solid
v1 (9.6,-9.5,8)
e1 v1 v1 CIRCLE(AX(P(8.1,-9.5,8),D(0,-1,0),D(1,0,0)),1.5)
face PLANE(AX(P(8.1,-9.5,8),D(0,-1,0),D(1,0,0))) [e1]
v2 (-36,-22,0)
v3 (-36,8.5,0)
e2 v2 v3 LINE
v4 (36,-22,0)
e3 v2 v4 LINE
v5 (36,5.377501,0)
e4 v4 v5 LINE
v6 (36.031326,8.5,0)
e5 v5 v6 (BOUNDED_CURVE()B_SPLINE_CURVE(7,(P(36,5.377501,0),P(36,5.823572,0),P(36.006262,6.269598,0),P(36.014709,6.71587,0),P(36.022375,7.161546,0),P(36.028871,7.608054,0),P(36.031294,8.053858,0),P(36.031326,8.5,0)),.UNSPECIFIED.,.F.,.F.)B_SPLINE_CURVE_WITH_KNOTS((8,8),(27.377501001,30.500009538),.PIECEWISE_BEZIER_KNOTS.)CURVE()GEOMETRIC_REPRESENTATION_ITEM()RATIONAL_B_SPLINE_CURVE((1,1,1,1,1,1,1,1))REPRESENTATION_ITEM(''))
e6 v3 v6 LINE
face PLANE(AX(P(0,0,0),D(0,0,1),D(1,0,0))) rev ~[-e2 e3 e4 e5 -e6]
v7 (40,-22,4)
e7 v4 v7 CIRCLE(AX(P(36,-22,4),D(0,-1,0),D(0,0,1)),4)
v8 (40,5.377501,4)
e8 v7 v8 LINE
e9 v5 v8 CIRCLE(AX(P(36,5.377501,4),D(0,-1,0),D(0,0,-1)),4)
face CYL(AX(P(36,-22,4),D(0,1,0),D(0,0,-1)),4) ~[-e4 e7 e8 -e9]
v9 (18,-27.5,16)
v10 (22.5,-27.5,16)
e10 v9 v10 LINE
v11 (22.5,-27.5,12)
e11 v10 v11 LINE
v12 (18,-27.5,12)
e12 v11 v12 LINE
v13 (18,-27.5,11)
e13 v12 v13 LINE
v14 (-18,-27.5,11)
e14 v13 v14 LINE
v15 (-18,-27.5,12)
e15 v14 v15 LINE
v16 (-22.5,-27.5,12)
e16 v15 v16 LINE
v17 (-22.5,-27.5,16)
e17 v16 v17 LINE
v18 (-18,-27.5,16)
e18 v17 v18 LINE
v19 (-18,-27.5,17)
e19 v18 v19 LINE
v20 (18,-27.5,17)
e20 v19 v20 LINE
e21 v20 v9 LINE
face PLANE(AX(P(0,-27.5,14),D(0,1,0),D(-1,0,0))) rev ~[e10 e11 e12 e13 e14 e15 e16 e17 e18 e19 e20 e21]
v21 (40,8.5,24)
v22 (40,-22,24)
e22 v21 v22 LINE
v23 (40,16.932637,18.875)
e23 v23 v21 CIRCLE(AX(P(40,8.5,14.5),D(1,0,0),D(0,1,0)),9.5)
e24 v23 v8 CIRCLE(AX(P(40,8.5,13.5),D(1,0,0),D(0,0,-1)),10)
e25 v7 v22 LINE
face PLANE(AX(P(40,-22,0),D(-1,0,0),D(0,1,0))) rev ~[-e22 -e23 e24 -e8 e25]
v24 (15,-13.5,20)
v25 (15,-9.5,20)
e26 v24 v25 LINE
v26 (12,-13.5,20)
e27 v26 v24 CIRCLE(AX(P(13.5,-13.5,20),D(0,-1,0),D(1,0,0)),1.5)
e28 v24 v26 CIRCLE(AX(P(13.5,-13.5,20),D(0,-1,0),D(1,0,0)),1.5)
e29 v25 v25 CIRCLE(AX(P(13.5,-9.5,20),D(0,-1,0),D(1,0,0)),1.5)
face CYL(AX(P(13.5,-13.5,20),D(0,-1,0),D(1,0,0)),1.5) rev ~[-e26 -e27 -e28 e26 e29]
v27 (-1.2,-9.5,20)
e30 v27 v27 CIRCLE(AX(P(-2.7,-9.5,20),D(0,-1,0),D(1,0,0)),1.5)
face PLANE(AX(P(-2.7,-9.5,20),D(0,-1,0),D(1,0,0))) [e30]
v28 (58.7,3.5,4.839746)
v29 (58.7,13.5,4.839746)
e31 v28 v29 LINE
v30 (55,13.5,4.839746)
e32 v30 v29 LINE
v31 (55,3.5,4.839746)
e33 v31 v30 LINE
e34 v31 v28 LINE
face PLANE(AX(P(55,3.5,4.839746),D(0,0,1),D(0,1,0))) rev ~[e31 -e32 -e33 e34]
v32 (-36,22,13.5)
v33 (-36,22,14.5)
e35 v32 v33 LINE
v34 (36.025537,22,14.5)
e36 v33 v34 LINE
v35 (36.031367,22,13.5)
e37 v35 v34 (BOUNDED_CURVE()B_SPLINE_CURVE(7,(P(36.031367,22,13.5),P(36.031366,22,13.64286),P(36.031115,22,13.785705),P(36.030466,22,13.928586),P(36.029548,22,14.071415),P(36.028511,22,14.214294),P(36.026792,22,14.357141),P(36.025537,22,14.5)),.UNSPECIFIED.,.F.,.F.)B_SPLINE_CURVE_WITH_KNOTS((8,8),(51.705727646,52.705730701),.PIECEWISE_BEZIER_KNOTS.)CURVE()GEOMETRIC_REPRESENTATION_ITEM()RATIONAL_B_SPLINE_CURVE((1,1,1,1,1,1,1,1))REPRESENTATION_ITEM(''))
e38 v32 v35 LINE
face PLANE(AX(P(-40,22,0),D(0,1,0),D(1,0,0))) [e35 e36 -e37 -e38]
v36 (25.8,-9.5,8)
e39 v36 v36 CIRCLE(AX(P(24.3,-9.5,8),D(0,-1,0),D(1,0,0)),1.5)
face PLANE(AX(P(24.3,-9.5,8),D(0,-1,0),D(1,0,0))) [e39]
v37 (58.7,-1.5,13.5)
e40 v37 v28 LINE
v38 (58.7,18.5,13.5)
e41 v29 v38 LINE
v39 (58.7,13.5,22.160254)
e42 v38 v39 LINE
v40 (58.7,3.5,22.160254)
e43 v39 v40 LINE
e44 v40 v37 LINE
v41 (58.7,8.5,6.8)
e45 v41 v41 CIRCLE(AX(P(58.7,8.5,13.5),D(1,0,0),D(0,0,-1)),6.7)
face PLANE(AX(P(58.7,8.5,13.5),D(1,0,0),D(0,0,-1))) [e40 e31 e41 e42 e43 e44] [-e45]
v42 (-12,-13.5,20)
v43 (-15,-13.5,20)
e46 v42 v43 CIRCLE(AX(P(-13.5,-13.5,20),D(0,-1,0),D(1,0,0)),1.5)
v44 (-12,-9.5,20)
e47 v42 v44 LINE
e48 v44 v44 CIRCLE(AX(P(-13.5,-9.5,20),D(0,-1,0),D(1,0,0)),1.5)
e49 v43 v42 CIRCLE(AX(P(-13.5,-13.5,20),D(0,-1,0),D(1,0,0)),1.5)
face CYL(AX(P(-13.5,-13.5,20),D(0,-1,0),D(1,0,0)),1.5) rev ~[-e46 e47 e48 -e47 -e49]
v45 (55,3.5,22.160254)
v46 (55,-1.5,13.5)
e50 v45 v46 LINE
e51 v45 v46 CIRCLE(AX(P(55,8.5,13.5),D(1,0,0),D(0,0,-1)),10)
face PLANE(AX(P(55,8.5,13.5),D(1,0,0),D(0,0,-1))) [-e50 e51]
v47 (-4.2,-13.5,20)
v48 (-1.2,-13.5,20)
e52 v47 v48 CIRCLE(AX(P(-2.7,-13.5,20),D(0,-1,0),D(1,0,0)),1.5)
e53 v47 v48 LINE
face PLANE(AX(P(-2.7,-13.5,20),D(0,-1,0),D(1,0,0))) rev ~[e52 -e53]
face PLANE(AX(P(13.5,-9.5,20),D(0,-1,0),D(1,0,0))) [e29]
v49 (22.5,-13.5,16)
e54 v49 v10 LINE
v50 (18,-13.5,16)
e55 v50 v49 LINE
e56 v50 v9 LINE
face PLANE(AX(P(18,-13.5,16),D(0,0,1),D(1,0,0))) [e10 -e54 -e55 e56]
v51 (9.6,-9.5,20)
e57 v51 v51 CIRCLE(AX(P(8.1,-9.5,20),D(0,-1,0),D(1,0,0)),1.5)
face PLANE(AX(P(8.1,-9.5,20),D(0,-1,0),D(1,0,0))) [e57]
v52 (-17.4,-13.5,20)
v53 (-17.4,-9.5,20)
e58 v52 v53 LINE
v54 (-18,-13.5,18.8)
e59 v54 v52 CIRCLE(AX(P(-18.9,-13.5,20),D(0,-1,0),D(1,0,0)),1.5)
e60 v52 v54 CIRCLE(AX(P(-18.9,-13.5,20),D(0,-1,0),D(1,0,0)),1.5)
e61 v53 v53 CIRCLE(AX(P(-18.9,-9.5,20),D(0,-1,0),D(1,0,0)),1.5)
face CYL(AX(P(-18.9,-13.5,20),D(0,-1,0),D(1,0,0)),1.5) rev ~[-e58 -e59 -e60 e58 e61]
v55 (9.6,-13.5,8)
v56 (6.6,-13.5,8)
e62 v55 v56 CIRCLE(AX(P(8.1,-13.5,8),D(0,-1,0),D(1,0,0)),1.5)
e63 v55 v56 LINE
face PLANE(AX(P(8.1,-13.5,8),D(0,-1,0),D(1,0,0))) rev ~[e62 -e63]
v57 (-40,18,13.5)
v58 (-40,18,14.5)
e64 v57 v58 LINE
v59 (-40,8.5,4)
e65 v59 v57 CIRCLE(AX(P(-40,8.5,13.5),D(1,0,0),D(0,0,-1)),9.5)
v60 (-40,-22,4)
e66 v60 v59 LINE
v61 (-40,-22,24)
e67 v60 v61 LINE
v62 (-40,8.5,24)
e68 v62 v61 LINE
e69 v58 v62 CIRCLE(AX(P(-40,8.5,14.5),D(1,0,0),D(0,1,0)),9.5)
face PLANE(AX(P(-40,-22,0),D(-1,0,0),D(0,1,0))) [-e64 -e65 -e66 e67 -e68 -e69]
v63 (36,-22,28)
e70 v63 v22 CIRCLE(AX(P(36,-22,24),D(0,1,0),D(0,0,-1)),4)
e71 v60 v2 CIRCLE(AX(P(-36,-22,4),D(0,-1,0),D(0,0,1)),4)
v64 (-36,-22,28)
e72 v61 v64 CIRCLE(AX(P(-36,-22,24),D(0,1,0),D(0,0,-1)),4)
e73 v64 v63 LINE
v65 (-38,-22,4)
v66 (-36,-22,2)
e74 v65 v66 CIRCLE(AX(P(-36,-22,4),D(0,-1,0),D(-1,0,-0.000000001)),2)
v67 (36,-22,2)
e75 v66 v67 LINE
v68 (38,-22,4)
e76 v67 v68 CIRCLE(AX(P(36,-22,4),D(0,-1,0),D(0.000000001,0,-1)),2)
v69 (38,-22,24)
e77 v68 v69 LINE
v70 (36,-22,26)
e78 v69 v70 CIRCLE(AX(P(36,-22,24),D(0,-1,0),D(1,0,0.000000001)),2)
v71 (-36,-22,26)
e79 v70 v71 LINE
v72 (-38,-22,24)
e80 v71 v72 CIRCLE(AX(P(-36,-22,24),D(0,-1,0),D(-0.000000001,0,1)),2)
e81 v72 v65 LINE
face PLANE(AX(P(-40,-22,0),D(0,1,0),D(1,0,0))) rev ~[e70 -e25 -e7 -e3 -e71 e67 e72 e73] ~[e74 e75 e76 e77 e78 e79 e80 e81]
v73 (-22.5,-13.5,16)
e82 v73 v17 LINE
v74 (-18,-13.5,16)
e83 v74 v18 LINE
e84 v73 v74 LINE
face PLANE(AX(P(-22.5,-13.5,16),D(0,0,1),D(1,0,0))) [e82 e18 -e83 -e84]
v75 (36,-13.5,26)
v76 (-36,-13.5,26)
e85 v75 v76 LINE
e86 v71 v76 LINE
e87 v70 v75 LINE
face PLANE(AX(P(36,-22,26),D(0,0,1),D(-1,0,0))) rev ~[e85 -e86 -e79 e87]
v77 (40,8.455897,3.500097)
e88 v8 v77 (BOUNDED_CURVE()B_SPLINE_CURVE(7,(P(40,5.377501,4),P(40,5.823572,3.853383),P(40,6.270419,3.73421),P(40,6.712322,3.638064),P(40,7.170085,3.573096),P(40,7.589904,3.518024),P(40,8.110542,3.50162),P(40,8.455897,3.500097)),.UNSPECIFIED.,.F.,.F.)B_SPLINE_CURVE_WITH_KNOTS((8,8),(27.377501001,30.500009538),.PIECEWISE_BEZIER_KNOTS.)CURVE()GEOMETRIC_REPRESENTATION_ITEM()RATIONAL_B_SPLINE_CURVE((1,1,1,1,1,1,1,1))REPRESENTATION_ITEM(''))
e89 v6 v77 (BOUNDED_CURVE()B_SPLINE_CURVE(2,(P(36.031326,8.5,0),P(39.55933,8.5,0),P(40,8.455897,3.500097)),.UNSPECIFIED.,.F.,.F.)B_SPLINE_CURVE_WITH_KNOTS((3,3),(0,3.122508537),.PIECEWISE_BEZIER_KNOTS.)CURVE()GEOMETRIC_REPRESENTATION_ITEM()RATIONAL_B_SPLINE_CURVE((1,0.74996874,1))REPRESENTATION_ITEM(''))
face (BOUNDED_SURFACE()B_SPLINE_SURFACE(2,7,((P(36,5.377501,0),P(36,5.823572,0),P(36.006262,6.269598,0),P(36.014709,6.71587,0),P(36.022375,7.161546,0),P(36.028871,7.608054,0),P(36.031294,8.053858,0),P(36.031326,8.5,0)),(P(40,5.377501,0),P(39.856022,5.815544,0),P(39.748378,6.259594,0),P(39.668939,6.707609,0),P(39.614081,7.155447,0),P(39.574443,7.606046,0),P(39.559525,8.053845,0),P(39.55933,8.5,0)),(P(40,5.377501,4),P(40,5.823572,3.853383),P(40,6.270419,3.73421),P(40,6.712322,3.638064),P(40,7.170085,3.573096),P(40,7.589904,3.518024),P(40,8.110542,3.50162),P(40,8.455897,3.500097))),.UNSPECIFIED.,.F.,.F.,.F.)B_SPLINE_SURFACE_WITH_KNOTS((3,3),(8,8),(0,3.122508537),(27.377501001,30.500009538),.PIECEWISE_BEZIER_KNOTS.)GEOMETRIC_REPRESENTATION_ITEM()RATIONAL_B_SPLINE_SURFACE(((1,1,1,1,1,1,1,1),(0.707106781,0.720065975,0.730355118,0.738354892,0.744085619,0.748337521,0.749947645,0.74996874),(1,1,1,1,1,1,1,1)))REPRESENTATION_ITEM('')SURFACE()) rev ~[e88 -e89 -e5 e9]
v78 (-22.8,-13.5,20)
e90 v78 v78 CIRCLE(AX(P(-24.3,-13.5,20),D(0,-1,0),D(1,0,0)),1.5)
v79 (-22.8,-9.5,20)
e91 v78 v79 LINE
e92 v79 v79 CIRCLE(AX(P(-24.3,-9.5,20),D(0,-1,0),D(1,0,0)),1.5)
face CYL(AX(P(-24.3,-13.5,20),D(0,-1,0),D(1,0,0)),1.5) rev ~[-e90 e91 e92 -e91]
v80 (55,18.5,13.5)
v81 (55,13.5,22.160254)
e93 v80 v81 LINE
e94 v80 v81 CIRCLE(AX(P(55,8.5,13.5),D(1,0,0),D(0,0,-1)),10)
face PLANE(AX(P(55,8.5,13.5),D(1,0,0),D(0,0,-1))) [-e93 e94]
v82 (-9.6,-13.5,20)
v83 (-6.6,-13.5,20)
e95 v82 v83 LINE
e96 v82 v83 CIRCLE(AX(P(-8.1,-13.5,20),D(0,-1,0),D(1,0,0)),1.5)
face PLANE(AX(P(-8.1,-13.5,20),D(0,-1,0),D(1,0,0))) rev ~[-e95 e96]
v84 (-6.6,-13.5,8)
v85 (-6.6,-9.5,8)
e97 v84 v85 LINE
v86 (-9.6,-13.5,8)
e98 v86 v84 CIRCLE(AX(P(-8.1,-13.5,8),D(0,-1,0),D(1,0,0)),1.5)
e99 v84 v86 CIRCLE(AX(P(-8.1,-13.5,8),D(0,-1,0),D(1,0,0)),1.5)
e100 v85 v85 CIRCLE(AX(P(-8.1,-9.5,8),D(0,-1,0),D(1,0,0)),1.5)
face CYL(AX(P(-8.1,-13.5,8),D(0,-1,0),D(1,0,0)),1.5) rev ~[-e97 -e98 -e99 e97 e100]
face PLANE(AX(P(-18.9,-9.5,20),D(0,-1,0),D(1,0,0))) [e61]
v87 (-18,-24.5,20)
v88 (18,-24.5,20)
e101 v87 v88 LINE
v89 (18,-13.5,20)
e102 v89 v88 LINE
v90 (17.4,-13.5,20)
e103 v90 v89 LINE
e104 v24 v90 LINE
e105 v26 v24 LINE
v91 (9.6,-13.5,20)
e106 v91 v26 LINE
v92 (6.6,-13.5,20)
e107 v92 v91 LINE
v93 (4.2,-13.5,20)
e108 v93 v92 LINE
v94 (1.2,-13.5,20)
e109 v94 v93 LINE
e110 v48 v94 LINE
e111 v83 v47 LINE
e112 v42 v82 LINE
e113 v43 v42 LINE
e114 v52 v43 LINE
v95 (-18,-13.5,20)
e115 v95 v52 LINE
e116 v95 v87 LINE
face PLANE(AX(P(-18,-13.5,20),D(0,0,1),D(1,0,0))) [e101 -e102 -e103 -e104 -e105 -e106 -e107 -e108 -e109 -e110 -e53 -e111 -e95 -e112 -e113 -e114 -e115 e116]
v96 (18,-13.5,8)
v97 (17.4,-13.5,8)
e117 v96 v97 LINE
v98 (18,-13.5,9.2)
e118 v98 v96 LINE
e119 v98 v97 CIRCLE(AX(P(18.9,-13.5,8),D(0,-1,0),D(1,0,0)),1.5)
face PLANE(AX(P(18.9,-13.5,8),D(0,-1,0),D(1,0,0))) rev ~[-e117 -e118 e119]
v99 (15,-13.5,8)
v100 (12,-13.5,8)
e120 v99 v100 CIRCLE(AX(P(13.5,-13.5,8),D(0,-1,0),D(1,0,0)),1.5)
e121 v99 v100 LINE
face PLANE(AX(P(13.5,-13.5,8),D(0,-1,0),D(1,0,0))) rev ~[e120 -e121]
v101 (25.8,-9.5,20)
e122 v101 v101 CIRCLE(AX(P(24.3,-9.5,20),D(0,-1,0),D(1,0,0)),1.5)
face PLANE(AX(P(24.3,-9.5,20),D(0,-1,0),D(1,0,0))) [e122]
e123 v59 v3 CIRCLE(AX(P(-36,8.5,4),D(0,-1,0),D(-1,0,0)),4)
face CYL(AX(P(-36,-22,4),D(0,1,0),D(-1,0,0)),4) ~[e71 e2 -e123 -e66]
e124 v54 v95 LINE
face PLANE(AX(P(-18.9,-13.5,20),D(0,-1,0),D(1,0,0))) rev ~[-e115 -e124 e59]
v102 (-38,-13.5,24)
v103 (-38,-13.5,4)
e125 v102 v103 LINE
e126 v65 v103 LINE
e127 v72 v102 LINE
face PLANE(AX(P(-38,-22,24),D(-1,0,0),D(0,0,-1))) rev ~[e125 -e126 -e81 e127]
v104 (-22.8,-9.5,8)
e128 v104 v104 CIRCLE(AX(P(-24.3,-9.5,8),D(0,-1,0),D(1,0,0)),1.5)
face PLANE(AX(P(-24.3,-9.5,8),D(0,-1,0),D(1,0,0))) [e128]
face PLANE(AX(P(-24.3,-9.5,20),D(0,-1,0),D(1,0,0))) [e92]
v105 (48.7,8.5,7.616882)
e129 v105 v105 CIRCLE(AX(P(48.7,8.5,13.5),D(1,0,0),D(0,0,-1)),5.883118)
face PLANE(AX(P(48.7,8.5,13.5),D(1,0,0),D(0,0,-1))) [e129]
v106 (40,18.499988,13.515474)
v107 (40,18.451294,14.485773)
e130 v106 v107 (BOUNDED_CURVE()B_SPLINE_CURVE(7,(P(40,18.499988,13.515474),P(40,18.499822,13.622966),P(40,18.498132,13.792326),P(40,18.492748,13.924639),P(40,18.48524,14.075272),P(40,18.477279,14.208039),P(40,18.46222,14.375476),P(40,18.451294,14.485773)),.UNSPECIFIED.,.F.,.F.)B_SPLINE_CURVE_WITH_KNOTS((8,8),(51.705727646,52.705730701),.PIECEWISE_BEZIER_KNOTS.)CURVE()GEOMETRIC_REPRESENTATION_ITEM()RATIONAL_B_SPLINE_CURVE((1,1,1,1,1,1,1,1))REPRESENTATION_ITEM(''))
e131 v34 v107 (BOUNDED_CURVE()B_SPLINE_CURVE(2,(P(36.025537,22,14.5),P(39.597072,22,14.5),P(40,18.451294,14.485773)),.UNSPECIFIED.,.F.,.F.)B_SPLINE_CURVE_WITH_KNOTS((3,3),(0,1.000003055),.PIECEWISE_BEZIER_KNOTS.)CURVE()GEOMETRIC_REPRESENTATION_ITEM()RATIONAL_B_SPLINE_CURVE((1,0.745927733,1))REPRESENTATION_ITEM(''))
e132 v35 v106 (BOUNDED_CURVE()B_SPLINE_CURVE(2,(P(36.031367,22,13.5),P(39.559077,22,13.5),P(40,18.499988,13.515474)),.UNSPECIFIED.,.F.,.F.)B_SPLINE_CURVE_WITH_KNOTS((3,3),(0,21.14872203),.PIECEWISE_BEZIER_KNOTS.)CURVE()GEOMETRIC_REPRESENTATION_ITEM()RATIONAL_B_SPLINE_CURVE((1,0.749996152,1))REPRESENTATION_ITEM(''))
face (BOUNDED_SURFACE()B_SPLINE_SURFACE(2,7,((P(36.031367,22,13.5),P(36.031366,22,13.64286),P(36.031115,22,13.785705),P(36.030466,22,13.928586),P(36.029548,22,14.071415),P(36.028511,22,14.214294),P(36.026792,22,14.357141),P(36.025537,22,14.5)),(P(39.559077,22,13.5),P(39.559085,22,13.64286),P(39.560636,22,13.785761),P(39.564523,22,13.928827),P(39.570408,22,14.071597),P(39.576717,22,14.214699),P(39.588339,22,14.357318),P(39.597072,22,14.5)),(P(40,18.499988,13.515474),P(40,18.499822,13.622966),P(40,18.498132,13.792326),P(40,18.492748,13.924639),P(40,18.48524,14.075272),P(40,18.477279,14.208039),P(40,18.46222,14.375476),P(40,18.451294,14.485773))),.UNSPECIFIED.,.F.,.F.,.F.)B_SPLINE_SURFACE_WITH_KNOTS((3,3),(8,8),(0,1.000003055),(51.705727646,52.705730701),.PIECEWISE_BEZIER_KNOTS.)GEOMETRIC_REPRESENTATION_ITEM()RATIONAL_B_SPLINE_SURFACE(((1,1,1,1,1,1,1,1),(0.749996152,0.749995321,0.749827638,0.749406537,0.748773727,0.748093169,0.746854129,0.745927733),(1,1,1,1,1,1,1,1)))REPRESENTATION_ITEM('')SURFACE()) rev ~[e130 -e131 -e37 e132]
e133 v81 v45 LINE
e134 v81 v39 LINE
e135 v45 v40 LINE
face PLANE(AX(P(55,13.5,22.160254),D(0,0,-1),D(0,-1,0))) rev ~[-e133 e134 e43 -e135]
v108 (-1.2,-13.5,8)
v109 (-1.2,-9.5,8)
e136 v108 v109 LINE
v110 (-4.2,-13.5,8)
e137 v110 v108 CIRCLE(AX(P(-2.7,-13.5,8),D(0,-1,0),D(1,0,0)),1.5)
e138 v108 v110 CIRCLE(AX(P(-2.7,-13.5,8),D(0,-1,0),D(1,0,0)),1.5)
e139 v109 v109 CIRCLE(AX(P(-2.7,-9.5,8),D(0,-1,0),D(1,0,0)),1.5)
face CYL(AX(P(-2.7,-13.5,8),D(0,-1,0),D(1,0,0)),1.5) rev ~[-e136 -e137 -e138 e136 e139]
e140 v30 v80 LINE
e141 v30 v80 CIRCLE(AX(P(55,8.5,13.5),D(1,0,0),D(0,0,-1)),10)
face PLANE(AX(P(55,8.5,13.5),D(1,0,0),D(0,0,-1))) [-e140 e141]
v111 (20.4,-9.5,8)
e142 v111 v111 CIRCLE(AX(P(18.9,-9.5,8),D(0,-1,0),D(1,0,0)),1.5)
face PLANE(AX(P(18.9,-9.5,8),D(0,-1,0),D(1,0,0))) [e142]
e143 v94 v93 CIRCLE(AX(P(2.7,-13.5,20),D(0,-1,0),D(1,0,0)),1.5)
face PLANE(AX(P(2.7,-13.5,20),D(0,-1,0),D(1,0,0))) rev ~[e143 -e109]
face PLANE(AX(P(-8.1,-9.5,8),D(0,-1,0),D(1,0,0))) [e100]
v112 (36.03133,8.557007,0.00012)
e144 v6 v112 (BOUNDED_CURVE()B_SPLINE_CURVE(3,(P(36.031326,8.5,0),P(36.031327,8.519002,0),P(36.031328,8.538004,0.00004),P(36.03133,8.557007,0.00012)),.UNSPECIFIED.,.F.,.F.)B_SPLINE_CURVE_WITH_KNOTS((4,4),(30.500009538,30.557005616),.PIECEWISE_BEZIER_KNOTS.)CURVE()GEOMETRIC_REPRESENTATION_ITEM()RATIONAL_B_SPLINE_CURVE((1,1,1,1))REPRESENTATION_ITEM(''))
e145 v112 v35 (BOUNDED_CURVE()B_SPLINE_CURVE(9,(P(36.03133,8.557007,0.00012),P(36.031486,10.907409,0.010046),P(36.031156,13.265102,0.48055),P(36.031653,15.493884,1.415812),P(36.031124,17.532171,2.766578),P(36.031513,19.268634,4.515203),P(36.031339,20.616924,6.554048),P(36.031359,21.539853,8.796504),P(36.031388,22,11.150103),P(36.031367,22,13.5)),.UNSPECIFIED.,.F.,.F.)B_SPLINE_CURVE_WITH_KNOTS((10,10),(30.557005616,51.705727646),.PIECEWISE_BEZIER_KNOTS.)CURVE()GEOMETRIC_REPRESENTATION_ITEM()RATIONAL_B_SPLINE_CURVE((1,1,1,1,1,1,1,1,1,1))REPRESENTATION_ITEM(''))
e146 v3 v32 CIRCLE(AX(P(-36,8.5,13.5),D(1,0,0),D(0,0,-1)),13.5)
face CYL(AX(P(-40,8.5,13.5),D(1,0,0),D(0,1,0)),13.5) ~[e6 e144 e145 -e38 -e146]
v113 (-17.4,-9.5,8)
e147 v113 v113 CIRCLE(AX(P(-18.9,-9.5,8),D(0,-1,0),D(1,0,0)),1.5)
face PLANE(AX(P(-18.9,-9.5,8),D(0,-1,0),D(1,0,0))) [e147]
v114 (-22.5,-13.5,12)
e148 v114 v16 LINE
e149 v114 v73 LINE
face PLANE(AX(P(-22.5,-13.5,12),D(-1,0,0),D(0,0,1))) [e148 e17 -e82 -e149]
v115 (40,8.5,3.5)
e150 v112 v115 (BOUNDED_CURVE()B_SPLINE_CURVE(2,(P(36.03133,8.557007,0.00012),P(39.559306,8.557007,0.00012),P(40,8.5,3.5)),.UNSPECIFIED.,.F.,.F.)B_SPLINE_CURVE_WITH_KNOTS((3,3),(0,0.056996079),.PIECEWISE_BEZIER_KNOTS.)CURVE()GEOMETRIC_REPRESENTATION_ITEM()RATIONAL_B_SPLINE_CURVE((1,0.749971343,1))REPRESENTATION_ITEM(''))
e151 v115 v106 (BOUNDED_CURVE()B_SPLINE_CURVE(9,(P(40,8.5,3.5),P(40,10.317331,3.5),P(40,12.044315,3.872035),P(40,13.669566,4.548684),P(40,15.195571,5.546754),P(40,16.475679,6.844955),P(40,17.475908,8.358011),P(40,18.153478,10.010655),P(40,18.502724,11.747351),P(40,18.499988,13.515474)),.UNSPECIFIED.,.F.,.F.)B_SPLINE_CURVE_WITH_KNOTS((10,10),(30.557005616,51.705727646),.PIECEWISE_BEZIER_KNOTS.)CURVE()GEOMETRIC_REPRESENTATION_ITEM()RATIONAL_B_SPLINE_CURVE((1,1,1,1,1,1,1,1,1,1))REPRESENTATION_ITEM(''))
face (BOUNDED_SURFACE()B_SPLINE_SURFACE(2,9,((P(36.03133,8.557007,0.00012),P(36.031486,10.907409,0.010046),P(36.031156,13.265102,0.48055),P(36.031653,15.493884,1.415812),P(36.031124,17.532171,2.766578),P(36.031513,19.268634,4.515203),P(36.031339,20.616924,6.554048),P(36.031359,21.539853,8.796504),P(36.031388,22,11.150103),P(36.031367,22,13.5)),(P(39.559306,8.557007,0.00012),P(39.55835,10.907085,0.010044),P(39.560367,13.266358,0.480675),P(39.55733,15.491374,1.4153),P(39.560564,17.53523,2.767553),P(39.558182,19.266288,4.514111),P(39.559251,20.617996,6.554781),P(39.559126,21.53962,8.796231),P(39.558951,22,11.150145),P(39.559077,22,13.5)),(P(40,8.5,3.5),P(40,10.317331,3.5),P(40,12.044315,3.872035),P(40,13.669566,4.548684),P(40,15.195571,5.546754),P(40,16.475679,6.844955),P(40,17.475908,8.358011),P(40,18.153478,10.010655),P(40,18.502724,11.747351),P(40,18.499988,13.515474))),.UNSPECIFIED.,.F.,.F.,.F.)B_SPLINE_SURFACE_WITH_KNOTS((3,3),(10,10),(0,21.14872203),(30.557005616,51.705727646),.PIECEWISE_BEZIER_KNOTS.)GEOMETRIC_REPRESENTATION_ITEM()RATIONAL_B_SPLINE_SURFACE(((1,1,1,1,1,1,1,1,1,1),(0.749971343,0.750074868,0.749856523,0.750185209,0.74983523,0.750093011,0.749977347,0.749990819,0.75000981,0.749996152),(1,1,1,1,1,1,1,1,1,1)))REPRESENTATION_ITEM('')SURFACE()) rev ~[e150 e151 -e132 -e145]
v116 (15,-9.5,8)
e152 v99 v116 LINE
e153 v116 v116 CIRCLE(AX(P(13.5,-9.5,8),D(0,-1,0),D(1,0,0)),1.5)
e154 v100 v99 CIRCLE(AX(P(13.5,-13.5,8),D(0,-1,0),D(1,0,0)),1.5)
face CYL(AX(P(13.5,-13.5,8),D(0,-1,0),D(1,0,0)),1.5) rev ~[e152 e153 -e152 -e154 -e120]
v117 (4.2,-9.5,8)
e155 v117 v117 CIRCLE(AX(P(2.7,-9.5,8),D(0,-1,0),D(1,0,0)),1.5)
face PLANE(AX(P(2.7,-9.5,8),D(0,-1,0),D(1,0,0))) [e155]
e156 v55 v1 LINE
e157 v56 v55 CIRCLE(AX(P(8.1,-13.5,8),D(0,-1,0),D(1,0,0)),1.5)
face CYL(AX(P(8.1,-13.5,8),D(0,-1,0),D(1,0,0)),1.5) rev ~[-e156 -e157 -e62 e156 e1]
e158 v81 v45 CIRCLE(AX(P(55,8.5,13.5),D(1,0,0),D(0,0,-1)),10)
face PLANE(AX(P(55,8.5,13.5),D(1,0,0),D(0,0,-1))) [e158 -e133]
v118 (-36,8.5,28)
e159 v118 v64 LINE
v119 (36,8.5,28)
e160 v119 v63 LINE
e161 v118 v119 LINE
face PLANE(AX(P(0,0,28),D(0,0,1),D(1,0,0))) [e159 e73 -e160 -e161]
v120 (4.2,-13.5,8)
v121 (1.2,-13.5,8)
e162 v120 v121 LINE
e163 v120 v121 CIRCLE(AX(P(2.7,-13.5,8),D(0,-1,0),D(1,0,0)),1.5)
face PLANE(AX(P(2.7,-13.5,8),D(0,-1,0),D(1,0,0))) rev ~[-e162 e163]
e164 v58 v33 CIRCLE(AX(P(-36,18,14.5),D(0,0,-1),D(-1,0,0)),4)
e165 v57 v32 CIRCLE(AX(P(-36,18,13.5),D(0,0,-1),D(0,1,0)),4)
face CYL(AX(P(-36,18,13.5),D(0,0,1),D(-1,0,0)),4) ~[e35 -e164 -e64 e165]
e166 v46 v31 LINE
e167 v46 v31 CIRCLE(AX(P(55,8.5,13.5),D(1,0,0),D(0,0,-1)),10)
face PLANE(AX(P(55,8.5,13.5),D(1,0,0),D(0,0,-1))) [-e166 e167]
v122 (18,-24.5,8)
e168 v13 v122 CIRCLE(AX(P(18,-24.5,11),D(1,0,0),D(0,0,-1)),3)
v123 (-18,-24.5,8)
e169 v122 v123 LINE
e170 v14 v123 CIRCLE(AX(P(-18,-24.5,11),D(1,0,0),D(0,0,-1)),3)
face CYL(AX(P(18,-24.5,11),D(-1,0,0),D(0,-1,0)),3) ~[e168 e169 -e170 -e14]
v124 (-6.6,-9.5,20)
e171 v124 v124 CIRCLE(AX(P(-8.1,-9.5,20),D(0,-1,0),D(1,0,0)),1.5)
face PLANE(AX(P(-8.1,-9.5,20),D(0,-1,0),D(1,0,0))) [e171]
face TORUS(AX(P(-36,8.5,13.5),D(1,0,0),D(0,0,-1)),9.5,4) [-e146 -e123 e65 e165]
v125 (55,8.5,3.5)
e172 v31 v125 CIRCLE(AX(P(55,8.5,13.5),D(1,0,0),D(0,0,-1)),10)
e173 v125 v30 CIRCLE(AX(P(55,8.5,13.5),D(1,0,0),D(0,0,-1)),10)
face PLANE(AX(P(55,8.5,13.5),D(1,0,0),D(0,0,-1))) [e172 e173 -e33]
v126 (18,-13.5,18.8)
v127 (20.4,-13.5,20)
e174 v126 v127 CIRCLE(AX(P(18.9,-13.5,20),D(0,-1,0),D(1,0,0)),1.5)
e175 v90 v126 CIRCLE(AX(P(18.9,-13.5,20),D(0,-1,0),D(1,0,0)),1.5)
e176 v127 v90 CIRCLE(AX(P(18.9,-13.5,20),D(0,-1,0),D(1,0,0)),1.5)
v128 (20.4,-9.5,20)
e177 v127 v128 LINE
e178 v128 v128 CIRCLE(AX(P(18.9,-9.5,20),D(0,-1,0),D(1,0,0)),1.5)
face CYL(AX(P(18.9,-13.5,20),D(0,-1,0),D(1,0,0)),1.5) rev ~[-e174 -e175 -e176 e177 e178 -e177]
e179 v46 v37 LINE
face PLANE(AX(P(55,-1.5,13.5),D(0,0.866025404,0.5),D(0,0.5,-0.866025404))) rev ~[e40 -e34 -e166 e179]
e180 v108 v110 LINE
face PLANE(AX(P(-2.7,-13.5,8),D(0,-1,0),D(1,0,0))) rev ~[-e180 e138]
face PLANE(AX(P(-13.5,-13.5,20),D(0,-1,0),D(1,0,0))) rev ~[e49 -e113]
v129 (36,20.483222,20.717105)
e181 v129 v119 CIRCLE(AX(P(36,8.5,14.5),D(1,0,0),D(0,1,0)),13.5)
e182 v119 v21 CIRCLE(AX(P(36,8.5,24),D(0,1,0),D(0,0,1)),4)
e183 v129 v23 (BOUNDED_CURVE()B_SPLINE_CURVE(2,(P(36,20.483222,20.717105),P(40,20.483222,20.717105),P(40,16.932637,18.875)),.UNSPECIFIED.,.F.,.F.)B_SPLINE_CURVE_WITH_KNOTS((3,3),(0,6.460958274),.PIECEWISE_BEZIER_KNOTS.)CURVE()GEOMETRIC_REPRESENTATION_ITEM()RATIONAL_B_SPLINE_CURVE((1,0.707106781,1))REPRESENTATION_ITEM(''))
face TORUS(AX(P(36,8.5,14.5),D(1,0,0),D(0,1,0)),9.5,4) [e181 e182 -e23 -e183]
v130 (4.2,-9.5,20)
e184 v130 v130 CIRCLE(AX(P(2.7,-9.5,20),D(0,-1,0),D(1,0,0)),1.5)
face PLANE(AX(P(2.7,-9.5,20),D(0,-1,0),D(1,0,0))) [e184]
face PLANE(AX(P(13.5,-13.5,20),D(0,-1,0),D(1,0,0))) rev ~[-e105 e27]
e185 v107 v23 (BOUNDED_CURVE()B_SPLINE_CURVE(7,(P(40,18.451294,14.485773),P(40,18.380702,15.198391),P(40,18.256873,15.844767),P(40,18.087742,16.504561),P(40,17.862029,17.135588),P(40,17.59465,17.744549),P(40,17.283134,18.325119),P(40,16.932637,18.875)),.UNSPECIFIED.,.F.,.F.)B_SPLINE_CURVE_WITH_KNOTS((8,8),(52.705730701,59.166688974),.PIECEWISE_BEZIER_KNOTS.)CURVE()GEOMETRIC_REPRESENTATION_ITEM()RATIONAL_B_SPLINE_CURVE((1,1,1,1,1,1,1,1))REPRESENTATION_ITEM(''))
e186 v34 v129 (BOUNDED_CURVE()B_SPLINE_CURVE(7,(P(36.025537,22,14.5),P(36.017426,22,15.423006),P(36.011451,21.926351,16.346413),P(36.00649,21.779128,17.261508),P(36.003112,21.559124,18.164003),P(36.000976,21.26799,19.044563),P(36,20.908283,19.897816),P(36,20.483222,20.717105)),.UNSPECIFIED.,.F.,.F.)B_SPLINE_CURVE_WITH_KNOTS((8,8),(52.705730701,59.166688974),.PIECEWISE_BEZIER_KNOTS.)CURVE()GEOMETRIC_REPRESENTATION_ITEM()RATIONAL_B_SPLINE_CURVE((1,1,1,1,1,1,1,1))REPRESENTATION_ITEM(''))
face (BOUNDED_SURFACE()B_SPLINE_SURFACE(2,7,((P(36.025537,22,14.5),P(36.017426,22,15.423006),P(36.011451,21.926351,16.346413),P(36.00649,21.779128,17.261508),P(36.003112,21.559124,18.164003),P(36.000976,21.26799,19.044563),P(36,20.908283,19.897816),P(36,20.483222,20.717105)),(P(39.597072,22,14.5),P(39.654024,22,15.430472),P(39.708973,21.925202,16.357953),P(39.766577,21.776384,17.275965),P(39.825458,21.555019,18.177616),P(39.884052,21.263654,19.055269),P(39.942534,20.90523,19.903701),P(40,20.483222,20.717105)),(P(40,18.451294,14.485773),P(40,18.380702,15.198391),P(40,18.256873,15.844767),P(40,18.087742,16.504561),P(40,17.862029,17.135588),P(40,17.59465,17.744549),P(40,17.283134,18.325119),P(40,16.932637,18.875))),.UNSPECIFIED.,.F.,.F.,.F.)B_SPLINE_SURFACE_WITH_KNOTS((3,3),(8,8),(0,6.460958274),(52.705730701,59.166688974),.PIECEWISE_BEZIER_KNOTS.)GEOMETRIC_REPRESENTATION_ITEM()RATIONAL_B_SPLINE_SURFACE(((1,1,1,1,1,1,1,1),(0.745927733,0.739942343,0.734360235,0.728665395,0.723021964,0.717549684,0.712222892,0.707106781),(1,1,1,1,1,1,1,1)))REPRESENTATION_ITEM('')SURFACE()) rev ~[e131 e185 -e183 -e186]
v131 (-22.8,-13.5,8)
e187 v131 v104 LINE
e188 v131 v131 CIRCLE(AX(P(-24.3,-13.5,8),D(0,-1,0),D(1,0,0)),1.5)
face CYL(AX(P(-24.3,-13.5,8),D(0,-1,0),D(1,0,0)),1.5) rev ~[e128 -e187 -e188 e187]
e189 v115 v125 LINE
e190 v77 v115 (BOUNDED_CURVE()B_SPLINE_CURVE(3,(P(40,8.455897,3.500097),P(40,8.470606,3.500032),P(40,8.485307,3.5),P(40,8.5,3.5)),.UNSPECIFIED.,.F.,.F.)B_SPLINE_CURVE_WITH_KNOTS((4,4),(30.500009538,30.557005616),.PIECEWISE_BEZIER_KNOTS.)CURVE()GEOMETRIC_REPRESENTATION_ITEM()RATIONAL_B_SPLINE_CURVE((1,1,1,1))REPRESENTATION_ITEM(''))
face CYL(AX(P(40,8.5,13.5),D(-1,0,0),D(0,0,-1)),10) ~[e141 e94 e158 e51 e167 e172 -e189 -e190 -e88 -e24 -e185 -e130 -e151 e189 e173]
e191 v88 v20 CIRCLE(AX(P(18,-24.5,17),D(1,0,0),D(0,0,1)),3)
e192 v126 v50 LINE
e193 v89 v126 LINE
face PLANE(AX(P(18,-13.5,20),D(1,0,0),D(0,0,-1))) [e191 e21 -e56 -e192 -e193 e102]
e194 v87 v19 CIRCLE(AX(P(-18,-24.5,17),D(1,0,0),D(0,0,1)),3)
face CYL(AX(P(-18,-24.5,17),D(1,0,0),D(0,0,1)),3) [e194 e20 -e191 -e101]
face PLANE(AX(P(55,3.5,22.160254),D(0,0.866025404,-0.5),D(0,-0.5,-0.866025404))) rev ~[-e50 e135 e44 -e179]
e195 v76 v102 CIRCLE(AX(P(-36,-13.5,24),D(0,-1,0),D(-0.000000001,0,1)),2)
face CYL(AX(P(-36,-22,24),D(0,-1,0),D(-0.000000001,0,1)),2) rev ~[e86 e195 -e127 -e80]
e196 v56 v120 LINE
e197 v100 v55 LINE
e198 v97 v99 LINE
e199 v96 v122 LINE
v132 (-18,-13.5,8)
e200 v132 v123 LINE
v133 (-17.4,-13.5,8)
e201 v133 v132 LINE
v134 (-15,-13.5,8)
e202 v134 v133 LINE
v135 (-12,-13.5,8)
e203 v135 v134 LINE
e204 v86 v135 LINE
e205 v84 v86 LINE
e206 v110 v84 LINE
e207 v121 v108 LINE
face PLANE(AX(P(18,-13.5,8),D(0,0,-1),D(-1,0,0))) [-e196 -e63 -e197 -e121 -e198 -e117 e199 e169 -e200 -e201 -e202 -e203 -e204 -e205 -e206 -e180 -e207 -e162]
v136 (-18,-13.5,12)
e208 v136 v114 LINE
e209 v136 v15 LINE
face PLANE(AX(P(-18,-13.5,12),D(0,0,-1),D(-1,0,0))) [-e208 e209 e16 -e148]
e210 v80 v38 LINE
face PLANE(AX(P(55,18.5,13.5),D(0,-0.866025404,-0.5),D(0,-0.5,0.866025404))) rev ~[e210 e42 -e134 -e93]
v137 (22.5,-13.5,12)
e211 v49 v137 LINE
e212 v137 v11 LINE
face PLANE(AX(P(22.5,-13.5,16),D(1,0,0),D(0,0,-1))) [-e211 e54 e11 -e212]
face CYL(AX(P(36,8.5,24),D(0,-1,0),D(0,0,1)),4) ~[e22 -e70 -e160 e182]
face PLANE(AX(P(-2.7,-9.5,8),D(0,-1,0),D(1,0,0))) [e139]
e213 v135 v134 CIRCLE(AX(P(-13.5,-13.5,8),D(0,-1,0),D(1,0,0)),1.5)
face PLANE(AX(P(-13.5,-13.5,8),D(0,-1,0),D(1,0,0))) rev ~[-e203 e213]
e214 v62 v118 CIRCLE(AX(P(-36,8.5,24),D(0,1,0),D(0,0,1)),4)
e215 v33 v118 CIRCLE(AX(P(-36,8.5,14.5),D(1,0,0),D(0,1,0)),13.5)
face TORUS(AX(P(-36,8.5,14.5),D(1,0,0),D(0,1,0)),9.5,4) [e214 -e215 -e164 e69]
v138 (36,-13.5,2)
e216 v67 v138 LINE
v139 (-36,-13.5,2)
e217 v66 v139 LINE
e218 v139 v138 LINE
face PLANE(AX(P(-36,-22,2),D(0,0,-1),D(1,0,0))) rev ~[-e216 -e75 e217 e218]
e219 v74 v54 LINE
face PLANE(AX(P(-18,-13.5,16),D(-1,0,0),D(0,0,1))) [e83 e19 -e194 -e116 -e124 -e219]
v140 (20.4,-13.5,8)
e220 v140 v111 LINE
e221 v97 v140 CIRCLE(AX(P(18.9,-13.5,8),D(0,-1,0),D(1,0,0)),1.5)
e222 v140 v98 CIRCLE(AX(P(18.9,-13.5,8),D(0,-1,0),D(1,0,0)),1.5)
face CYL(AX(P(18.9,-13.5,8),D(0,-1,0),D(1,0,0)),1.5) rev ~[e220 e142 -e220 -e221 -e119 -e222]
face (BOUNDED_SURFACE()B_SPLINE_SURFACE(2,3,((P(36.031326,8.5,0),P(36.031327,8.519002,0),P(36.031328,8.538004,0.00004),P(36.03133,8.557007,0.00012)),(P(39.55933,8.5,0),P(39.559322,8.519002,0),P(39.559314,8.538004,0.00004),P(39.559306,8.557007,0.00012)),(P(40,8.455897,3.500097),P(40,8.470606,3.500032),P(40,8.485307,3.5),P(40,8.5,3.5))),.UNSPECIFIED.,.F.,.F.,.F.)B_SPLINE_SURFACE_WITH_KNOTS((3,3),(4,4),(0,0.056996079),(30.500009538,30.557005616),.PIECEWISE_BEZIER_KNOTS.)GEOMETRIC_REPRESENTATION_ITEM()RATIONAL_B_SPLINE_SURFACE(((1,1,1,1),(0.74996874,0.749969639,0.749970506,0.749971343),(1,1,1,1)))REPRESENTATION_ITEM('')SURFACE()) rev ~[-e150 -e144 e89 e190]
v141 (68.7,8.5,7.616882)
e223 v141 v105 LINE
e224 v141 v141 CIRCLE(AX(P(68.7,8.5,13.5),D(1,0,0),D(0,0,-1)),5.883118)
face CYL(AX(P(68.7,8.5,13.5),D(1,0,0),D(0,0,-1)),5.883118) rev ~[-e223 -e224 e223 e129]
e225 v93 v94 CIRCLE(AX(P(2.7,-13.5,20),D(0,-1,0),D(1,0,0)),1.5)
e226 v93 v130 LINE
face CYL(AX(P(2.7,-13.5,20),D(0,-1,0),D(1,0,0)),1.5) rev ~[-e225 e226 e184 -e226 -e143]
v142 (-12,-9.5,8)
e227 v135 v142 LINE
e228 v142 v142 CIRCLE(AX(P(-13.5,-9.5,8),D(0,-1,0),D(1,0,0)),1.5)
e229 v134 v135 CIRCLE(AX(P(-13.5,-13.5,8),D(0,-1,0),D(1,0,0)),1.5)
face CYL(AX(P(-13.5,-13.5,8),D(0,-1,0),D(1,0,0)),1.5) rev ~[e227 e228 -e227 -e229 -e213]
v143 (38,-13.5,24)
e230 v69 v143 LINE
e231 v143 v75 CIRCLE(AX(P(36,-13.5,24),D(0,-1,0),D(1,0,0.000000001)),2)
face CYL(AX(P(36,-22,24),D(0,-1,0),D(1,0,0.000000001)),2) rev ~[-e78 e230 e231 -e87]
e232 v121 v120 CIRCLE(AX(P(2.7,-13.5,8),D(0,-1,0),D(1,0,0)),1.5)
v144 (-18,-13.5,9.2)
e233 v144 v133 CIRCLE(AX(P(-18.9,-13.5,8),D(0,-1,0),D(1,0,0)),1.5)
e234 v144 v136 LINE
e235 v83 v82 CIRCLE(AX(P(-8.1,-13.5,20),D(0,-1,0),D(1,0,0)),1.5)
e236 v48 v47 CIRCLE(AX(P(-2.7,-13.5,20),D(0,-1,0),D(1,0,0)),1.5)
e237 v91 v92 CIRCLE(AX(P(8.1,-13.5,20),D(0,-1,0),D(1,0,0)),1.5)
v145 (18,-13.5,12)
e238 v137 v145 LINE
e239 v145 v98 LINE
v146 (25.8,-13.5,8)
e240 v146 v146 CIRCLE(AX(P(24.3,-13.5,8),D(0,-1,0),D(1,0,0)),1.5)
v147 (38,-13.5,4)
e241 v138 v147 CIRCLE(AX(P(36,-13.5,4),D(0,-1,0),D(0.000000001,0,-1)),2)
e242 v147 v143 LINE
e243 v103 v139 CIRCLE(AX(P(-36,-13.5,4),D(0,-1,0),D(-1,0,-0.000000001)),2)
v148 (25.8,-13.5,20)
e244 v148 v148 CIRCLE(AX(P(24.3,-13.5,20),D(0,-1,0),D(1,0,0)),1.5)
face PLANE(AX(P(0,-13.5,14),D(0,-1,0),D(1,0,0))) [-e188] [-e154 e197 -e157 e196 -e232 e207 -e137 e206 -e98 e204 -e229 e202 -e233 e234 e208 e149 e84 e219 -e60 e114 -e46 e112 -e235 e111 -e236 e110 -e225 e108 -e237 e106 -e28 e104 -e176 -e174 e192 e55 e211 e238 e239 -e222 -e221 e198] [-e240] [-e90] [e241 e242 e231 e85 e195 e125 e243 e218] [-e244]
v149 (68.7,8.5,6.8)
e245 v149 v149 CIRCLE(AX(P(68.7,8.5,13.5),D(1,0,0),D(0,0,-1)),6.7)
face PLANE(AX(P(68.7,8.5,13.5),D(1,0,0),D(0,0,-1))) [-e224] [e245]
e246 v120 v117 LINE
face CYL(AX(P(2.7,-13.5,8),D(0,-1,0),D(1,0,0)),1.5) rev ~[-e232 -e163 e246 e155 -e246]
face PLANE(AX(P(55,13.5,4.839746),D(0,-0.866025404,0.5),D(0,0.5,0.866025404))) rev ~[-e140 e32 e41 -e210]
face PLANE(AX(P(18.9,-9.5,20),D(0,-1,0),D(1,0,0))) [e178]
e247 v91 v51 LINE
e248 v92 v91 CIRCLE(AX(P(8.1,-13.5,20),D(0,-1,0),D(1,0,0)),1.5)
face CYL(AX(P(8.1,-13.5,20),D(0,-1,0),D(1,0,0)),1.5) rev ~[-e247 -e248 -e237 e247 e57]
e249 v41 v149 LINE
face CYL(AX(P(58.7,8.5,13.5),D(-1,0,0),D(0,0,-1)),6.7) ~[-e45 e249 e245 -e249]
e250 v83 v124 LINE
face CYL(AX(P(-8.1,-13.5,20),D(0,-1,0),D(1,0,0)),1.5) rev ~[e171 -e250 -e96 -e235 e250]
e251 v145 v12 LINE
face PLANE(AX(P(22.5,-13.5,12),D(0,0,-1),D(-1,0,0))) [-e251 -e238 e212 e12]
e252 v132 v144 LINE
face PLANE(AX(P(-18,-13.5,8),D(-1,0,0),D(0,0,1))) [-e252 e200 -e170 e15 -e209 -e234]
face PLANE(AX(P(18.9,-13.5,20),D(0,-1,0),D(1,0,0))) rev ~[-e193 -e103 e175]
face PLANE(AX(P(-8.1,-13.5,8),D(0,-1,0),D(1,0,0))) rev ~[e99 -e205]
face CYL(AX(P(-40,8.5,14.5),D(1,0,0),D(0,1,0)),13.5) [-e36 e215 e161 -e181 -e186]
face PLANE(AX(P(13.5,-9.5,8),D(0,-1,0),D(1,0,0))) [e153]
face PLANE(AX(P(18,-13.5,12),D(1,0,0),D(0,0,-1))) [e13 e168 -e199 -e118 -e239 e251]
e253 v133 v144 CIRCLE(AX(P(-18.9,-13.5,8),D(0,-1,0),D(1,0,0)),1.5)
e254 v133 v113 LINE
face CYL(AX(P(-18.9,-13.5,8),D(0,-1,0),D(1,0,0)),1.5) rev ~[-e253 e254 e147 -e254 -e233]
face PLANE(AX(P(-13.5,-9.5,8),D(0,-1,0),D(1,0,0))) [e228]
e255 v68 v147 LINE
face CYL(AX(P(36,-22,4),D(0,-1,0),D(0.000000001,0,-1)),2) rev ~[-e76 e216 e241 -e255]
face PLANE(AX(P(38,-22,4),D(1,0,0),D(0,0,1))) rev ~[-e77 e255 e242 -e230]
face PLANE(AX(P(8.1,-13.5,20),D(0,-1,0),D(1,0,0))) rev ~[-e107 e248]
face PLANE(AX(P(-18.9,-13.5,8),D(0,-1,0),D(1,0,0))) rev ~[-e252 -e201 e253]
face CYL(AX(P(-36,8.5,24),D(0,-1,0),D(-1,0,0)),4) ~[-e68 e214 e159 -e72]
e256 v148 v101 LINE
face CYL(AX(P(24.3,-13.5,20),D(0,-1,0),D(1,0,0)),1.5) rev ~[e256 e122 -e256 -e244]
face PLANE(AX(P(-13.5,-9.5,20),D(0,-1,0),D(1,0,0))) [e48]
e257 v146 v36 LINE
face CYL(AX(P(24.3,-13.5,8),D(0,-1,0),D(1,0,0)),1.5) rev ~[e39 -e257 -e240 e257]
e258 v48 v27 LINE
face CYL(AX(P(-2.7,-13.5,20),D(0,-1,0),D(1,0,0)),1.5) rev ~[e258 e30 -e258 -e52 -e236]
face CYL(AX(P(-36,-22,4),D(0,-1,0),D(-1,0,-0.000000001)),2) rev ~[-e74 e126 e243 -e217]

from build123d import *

# Parameters (mm, degrees)
SKETCH_1_W          = 80
SKETCH_1_H          = 44
EXTRUDE_1_DEPTH     = 28
FILLET_1_R          = 13.5
FILLET_2_R          = 13.5
SKETCH_2_R          = 10
EXTRUDE_2_DEPTH     = 15
EXTRUDE_3_DEPTH     = 3.7
SKETCH_4_R          = 6.7
EXTRUDE_4_DEPTH     = 10
SKETCH_5_R          = 5.883118282
CUT_EXTRUDE_1_DEPTH = 20
FILLET_3_R          = 4
CUT_EXTRUDE_2_DEPTH = 8.5
EXTRUDE_5_DEPTH     = 14
FILLET_4_R          = 3
FILLET_5_R          = 3
SKETCH_9_R          = 1.5
CUT_EXTRUDE_3_DEPTH = 4


with BuildPart() as part:
    # 草图1 → 凸台-拉伸1 (new body)
    with BuildSketch(Plane.XY):
        Rectangle(SKETCH_1_W, SKETCH_1_H)
    extrude(amount=EXTRUDE_1_DEPTH)

    # 圆角1
    fillet_1_edges = [part.edges().sort_by_distance(p)[0] for p in [
        (0, 22, 28),
    ]]
    fillet(fillet_1_edges, radius=FILLET_1_R)

    # 圆角2
    fillet_2_edges = [part.edges().sort_by_distance(p)[0] for p in [
        (0, 22, 0),
    ]]
    fillet(fillet_2_edges, radius=FILLET_2_R)

    # 草图2 → 凸台-拉伸2 (add)
    with BuildSketch(Plane(origin=(40, 0, 0), x_dir=(0, 0, -1), z_dir=(1, 0, 0))):
        with Locations((-13.5, 8.5)):
            Circle(SKETCH_2_R)
    extrude(amount=EXTRUDE_2_DEPTH)

    # 草图3 → 凸台-拉伸3 (add)
    with BuildSketch(Plane(origin=(55, 0, 0), x_dir=(0, 0, -1), z_dir=(1, 0, 0))):
        Polygon((-13.5, 18.5), (-22.160254038, 13.5), (-22.160254038, 3.5), (-13.5, -1.5), (-4.839745962, 3.5), (-4.839745962, 13.5), align=None)
    extrude(amount=EXTRUDE_3_DEPTH)

    # 草图4 → 凸台-拉伸4 (add)
    with BuildSketch(Plane(origin=(58.7, 0, 0), x_dir=(0, 0, -1), z_dir=(1, 0, 0))):
        with Locations((-13.5, 8.5)):
            Circle(SKETCH_4_R)
    extrude(amount=EXTRUDE_4_DEPTH)

    # 草图5 → 切除-拉伸1 (cut)
    with BuildSketch(Plane(origin=(68.7, 0, 0), x_dir=(0, 0, -1), z_dir=(1, 0, 0))):
        with Locations((-13.5, 8.5)):
            Circle(SKETCH_5_R)
    extrude(amount=-CUT_EXTRUDE_1_DEPTH, mode=Mode.SUBTRACT)

    # 圆角3
    fillet_3_edges = [part.edges().sort_by_distance(p)[0] for p in [
        (40, -6.75, 0),
        (40, 18.045941546, 24.045941546),
        (-40, -6.75, 0),
        (-40, 18.045941546, 3.954058454),
        (-40, 22, 14),
        (-40, 18.045941546, 24.045941546),
        (40, -6.75, 28),
        (-40, -6.75, 28),
    ]]
    fillet(fillet_3_edges, radius=FILLET_3_R)

    # 草图7 → 切除-拉伸2 (cut)
    with BuildSketch(Plane.XZ.offset(22)):
        with BuildLine():
            Line((-36, 2), (36, 2))
            ThreePointArc((36, 2), (37.414213562, 2.585786438), (38, 4))
            Line((38, 4), (38, 24))
            ThreePointArc((38, 24), (37.414213562, 25.414213562), (36, 26))
            Line((36, 26), (-36, 26))
            ThreePointArc((-36, 26), (-37.414213562, 25.414213562), (-38, 24))
            Line((-38, 24), (-38, 4))
            ThreePointArc((-38, 4), (-37.414213562, 2.585786438), (-36, 2))
        make_face()
    extrude(amount=-CUT_EXTRUDE_2_DEPTH, mode=Mode.SUBTRACT)

    # 草图8 → 凸台-拉伸5 (add)
    with BuildSketch(Plane.XZ.offset(13.5)):
        Polygon((-18, 16), (-18, 20), (18, 20), (18, 16), (22.5, 16), (22.5, 12), (18, 12), (18, 8), (-18, 8), (-18, 12), (-22.5, 12), (-22.5, 16), align=None)
    extrude(amount=EXTRUDE_5_DEPTH)

    # 圆角4
    fillet_4_edges = [part.edges().sort_by_distance(p)[0] for p in [
        (0, -27.5, 20),
    ]]
    fillet(fillet_4_edges, radius=FILLET_4_R)

    # 圆角5
    fillet_5_edges = [part.edges().sort_by_distance(p)[0] for p in [
        (0, -27.5, 8),
    ]]
    fillet(fillet_5_edges, radius=FILLET_5_R)

    # 草图9 → 切除-拉伸3 (cut)
    with BuildSketch(Plane.XZ.offset(13.5)):
        with Locations((-24.3, 20)):
            Circle(SKETCH_9_R)
        with Locations((-18.9, 20)):
            Circle(SKETCH_9_R)
        with Locations((-13.5, 20)):
            Circle(SKETCH_9_R)
        with Locations((-8.1, 20)):
            Circle(SKETCH_9_R)
        with Locations((-2.7, 20)):
            Circle(SKETCH_9_R)
        with Locations((2.7, 20)):
            Circle(SKETCH_9_R)
        with Locations((8.1, 20)):
            Circle(SKETCH_9_R)
        with Locations((13.5, 20)):
            Circle(SKETCH_9_R)
        with Locations((18.9, 20)):
            Circle(SKETCH_9_R)
        with Locations((24.3, 20)):
            Circle(SKETCH_9_R)
        with Locations((-24.3, 8)):
            Circle(SKETCH_9_R)
        with Locations((-18.9, 8)):
            Circle(SKETCH_9_R)
        with Locations((-13.5, 8)):
            Circle(SKETCH_9_R)
        with Locations((-8.1, 8)):
            Circle(SKETCH_9_R)
        with Locations((-2.7, 8)):
            Circle(SKETCH_9_R)
        with Locations((2.7, 8)):
            Circle(SKETCH_9_R)
        with Locations((8.1, 8)):
            Circle(SKETCH_9_R)
        with Locations((13.5, 8)):
            Circle(SKETCH_9_R)
        with Locations((18.9, 8)):
            Circle(SKETCH_9_R)
        with Locations((24.3, 8)):
            Circle(SKETCH_9_R)
    extrude(amount=-CUT_EXTRUDE_3_DEPTH, mode=Mode.SUBTRACT)


solid = part.part
